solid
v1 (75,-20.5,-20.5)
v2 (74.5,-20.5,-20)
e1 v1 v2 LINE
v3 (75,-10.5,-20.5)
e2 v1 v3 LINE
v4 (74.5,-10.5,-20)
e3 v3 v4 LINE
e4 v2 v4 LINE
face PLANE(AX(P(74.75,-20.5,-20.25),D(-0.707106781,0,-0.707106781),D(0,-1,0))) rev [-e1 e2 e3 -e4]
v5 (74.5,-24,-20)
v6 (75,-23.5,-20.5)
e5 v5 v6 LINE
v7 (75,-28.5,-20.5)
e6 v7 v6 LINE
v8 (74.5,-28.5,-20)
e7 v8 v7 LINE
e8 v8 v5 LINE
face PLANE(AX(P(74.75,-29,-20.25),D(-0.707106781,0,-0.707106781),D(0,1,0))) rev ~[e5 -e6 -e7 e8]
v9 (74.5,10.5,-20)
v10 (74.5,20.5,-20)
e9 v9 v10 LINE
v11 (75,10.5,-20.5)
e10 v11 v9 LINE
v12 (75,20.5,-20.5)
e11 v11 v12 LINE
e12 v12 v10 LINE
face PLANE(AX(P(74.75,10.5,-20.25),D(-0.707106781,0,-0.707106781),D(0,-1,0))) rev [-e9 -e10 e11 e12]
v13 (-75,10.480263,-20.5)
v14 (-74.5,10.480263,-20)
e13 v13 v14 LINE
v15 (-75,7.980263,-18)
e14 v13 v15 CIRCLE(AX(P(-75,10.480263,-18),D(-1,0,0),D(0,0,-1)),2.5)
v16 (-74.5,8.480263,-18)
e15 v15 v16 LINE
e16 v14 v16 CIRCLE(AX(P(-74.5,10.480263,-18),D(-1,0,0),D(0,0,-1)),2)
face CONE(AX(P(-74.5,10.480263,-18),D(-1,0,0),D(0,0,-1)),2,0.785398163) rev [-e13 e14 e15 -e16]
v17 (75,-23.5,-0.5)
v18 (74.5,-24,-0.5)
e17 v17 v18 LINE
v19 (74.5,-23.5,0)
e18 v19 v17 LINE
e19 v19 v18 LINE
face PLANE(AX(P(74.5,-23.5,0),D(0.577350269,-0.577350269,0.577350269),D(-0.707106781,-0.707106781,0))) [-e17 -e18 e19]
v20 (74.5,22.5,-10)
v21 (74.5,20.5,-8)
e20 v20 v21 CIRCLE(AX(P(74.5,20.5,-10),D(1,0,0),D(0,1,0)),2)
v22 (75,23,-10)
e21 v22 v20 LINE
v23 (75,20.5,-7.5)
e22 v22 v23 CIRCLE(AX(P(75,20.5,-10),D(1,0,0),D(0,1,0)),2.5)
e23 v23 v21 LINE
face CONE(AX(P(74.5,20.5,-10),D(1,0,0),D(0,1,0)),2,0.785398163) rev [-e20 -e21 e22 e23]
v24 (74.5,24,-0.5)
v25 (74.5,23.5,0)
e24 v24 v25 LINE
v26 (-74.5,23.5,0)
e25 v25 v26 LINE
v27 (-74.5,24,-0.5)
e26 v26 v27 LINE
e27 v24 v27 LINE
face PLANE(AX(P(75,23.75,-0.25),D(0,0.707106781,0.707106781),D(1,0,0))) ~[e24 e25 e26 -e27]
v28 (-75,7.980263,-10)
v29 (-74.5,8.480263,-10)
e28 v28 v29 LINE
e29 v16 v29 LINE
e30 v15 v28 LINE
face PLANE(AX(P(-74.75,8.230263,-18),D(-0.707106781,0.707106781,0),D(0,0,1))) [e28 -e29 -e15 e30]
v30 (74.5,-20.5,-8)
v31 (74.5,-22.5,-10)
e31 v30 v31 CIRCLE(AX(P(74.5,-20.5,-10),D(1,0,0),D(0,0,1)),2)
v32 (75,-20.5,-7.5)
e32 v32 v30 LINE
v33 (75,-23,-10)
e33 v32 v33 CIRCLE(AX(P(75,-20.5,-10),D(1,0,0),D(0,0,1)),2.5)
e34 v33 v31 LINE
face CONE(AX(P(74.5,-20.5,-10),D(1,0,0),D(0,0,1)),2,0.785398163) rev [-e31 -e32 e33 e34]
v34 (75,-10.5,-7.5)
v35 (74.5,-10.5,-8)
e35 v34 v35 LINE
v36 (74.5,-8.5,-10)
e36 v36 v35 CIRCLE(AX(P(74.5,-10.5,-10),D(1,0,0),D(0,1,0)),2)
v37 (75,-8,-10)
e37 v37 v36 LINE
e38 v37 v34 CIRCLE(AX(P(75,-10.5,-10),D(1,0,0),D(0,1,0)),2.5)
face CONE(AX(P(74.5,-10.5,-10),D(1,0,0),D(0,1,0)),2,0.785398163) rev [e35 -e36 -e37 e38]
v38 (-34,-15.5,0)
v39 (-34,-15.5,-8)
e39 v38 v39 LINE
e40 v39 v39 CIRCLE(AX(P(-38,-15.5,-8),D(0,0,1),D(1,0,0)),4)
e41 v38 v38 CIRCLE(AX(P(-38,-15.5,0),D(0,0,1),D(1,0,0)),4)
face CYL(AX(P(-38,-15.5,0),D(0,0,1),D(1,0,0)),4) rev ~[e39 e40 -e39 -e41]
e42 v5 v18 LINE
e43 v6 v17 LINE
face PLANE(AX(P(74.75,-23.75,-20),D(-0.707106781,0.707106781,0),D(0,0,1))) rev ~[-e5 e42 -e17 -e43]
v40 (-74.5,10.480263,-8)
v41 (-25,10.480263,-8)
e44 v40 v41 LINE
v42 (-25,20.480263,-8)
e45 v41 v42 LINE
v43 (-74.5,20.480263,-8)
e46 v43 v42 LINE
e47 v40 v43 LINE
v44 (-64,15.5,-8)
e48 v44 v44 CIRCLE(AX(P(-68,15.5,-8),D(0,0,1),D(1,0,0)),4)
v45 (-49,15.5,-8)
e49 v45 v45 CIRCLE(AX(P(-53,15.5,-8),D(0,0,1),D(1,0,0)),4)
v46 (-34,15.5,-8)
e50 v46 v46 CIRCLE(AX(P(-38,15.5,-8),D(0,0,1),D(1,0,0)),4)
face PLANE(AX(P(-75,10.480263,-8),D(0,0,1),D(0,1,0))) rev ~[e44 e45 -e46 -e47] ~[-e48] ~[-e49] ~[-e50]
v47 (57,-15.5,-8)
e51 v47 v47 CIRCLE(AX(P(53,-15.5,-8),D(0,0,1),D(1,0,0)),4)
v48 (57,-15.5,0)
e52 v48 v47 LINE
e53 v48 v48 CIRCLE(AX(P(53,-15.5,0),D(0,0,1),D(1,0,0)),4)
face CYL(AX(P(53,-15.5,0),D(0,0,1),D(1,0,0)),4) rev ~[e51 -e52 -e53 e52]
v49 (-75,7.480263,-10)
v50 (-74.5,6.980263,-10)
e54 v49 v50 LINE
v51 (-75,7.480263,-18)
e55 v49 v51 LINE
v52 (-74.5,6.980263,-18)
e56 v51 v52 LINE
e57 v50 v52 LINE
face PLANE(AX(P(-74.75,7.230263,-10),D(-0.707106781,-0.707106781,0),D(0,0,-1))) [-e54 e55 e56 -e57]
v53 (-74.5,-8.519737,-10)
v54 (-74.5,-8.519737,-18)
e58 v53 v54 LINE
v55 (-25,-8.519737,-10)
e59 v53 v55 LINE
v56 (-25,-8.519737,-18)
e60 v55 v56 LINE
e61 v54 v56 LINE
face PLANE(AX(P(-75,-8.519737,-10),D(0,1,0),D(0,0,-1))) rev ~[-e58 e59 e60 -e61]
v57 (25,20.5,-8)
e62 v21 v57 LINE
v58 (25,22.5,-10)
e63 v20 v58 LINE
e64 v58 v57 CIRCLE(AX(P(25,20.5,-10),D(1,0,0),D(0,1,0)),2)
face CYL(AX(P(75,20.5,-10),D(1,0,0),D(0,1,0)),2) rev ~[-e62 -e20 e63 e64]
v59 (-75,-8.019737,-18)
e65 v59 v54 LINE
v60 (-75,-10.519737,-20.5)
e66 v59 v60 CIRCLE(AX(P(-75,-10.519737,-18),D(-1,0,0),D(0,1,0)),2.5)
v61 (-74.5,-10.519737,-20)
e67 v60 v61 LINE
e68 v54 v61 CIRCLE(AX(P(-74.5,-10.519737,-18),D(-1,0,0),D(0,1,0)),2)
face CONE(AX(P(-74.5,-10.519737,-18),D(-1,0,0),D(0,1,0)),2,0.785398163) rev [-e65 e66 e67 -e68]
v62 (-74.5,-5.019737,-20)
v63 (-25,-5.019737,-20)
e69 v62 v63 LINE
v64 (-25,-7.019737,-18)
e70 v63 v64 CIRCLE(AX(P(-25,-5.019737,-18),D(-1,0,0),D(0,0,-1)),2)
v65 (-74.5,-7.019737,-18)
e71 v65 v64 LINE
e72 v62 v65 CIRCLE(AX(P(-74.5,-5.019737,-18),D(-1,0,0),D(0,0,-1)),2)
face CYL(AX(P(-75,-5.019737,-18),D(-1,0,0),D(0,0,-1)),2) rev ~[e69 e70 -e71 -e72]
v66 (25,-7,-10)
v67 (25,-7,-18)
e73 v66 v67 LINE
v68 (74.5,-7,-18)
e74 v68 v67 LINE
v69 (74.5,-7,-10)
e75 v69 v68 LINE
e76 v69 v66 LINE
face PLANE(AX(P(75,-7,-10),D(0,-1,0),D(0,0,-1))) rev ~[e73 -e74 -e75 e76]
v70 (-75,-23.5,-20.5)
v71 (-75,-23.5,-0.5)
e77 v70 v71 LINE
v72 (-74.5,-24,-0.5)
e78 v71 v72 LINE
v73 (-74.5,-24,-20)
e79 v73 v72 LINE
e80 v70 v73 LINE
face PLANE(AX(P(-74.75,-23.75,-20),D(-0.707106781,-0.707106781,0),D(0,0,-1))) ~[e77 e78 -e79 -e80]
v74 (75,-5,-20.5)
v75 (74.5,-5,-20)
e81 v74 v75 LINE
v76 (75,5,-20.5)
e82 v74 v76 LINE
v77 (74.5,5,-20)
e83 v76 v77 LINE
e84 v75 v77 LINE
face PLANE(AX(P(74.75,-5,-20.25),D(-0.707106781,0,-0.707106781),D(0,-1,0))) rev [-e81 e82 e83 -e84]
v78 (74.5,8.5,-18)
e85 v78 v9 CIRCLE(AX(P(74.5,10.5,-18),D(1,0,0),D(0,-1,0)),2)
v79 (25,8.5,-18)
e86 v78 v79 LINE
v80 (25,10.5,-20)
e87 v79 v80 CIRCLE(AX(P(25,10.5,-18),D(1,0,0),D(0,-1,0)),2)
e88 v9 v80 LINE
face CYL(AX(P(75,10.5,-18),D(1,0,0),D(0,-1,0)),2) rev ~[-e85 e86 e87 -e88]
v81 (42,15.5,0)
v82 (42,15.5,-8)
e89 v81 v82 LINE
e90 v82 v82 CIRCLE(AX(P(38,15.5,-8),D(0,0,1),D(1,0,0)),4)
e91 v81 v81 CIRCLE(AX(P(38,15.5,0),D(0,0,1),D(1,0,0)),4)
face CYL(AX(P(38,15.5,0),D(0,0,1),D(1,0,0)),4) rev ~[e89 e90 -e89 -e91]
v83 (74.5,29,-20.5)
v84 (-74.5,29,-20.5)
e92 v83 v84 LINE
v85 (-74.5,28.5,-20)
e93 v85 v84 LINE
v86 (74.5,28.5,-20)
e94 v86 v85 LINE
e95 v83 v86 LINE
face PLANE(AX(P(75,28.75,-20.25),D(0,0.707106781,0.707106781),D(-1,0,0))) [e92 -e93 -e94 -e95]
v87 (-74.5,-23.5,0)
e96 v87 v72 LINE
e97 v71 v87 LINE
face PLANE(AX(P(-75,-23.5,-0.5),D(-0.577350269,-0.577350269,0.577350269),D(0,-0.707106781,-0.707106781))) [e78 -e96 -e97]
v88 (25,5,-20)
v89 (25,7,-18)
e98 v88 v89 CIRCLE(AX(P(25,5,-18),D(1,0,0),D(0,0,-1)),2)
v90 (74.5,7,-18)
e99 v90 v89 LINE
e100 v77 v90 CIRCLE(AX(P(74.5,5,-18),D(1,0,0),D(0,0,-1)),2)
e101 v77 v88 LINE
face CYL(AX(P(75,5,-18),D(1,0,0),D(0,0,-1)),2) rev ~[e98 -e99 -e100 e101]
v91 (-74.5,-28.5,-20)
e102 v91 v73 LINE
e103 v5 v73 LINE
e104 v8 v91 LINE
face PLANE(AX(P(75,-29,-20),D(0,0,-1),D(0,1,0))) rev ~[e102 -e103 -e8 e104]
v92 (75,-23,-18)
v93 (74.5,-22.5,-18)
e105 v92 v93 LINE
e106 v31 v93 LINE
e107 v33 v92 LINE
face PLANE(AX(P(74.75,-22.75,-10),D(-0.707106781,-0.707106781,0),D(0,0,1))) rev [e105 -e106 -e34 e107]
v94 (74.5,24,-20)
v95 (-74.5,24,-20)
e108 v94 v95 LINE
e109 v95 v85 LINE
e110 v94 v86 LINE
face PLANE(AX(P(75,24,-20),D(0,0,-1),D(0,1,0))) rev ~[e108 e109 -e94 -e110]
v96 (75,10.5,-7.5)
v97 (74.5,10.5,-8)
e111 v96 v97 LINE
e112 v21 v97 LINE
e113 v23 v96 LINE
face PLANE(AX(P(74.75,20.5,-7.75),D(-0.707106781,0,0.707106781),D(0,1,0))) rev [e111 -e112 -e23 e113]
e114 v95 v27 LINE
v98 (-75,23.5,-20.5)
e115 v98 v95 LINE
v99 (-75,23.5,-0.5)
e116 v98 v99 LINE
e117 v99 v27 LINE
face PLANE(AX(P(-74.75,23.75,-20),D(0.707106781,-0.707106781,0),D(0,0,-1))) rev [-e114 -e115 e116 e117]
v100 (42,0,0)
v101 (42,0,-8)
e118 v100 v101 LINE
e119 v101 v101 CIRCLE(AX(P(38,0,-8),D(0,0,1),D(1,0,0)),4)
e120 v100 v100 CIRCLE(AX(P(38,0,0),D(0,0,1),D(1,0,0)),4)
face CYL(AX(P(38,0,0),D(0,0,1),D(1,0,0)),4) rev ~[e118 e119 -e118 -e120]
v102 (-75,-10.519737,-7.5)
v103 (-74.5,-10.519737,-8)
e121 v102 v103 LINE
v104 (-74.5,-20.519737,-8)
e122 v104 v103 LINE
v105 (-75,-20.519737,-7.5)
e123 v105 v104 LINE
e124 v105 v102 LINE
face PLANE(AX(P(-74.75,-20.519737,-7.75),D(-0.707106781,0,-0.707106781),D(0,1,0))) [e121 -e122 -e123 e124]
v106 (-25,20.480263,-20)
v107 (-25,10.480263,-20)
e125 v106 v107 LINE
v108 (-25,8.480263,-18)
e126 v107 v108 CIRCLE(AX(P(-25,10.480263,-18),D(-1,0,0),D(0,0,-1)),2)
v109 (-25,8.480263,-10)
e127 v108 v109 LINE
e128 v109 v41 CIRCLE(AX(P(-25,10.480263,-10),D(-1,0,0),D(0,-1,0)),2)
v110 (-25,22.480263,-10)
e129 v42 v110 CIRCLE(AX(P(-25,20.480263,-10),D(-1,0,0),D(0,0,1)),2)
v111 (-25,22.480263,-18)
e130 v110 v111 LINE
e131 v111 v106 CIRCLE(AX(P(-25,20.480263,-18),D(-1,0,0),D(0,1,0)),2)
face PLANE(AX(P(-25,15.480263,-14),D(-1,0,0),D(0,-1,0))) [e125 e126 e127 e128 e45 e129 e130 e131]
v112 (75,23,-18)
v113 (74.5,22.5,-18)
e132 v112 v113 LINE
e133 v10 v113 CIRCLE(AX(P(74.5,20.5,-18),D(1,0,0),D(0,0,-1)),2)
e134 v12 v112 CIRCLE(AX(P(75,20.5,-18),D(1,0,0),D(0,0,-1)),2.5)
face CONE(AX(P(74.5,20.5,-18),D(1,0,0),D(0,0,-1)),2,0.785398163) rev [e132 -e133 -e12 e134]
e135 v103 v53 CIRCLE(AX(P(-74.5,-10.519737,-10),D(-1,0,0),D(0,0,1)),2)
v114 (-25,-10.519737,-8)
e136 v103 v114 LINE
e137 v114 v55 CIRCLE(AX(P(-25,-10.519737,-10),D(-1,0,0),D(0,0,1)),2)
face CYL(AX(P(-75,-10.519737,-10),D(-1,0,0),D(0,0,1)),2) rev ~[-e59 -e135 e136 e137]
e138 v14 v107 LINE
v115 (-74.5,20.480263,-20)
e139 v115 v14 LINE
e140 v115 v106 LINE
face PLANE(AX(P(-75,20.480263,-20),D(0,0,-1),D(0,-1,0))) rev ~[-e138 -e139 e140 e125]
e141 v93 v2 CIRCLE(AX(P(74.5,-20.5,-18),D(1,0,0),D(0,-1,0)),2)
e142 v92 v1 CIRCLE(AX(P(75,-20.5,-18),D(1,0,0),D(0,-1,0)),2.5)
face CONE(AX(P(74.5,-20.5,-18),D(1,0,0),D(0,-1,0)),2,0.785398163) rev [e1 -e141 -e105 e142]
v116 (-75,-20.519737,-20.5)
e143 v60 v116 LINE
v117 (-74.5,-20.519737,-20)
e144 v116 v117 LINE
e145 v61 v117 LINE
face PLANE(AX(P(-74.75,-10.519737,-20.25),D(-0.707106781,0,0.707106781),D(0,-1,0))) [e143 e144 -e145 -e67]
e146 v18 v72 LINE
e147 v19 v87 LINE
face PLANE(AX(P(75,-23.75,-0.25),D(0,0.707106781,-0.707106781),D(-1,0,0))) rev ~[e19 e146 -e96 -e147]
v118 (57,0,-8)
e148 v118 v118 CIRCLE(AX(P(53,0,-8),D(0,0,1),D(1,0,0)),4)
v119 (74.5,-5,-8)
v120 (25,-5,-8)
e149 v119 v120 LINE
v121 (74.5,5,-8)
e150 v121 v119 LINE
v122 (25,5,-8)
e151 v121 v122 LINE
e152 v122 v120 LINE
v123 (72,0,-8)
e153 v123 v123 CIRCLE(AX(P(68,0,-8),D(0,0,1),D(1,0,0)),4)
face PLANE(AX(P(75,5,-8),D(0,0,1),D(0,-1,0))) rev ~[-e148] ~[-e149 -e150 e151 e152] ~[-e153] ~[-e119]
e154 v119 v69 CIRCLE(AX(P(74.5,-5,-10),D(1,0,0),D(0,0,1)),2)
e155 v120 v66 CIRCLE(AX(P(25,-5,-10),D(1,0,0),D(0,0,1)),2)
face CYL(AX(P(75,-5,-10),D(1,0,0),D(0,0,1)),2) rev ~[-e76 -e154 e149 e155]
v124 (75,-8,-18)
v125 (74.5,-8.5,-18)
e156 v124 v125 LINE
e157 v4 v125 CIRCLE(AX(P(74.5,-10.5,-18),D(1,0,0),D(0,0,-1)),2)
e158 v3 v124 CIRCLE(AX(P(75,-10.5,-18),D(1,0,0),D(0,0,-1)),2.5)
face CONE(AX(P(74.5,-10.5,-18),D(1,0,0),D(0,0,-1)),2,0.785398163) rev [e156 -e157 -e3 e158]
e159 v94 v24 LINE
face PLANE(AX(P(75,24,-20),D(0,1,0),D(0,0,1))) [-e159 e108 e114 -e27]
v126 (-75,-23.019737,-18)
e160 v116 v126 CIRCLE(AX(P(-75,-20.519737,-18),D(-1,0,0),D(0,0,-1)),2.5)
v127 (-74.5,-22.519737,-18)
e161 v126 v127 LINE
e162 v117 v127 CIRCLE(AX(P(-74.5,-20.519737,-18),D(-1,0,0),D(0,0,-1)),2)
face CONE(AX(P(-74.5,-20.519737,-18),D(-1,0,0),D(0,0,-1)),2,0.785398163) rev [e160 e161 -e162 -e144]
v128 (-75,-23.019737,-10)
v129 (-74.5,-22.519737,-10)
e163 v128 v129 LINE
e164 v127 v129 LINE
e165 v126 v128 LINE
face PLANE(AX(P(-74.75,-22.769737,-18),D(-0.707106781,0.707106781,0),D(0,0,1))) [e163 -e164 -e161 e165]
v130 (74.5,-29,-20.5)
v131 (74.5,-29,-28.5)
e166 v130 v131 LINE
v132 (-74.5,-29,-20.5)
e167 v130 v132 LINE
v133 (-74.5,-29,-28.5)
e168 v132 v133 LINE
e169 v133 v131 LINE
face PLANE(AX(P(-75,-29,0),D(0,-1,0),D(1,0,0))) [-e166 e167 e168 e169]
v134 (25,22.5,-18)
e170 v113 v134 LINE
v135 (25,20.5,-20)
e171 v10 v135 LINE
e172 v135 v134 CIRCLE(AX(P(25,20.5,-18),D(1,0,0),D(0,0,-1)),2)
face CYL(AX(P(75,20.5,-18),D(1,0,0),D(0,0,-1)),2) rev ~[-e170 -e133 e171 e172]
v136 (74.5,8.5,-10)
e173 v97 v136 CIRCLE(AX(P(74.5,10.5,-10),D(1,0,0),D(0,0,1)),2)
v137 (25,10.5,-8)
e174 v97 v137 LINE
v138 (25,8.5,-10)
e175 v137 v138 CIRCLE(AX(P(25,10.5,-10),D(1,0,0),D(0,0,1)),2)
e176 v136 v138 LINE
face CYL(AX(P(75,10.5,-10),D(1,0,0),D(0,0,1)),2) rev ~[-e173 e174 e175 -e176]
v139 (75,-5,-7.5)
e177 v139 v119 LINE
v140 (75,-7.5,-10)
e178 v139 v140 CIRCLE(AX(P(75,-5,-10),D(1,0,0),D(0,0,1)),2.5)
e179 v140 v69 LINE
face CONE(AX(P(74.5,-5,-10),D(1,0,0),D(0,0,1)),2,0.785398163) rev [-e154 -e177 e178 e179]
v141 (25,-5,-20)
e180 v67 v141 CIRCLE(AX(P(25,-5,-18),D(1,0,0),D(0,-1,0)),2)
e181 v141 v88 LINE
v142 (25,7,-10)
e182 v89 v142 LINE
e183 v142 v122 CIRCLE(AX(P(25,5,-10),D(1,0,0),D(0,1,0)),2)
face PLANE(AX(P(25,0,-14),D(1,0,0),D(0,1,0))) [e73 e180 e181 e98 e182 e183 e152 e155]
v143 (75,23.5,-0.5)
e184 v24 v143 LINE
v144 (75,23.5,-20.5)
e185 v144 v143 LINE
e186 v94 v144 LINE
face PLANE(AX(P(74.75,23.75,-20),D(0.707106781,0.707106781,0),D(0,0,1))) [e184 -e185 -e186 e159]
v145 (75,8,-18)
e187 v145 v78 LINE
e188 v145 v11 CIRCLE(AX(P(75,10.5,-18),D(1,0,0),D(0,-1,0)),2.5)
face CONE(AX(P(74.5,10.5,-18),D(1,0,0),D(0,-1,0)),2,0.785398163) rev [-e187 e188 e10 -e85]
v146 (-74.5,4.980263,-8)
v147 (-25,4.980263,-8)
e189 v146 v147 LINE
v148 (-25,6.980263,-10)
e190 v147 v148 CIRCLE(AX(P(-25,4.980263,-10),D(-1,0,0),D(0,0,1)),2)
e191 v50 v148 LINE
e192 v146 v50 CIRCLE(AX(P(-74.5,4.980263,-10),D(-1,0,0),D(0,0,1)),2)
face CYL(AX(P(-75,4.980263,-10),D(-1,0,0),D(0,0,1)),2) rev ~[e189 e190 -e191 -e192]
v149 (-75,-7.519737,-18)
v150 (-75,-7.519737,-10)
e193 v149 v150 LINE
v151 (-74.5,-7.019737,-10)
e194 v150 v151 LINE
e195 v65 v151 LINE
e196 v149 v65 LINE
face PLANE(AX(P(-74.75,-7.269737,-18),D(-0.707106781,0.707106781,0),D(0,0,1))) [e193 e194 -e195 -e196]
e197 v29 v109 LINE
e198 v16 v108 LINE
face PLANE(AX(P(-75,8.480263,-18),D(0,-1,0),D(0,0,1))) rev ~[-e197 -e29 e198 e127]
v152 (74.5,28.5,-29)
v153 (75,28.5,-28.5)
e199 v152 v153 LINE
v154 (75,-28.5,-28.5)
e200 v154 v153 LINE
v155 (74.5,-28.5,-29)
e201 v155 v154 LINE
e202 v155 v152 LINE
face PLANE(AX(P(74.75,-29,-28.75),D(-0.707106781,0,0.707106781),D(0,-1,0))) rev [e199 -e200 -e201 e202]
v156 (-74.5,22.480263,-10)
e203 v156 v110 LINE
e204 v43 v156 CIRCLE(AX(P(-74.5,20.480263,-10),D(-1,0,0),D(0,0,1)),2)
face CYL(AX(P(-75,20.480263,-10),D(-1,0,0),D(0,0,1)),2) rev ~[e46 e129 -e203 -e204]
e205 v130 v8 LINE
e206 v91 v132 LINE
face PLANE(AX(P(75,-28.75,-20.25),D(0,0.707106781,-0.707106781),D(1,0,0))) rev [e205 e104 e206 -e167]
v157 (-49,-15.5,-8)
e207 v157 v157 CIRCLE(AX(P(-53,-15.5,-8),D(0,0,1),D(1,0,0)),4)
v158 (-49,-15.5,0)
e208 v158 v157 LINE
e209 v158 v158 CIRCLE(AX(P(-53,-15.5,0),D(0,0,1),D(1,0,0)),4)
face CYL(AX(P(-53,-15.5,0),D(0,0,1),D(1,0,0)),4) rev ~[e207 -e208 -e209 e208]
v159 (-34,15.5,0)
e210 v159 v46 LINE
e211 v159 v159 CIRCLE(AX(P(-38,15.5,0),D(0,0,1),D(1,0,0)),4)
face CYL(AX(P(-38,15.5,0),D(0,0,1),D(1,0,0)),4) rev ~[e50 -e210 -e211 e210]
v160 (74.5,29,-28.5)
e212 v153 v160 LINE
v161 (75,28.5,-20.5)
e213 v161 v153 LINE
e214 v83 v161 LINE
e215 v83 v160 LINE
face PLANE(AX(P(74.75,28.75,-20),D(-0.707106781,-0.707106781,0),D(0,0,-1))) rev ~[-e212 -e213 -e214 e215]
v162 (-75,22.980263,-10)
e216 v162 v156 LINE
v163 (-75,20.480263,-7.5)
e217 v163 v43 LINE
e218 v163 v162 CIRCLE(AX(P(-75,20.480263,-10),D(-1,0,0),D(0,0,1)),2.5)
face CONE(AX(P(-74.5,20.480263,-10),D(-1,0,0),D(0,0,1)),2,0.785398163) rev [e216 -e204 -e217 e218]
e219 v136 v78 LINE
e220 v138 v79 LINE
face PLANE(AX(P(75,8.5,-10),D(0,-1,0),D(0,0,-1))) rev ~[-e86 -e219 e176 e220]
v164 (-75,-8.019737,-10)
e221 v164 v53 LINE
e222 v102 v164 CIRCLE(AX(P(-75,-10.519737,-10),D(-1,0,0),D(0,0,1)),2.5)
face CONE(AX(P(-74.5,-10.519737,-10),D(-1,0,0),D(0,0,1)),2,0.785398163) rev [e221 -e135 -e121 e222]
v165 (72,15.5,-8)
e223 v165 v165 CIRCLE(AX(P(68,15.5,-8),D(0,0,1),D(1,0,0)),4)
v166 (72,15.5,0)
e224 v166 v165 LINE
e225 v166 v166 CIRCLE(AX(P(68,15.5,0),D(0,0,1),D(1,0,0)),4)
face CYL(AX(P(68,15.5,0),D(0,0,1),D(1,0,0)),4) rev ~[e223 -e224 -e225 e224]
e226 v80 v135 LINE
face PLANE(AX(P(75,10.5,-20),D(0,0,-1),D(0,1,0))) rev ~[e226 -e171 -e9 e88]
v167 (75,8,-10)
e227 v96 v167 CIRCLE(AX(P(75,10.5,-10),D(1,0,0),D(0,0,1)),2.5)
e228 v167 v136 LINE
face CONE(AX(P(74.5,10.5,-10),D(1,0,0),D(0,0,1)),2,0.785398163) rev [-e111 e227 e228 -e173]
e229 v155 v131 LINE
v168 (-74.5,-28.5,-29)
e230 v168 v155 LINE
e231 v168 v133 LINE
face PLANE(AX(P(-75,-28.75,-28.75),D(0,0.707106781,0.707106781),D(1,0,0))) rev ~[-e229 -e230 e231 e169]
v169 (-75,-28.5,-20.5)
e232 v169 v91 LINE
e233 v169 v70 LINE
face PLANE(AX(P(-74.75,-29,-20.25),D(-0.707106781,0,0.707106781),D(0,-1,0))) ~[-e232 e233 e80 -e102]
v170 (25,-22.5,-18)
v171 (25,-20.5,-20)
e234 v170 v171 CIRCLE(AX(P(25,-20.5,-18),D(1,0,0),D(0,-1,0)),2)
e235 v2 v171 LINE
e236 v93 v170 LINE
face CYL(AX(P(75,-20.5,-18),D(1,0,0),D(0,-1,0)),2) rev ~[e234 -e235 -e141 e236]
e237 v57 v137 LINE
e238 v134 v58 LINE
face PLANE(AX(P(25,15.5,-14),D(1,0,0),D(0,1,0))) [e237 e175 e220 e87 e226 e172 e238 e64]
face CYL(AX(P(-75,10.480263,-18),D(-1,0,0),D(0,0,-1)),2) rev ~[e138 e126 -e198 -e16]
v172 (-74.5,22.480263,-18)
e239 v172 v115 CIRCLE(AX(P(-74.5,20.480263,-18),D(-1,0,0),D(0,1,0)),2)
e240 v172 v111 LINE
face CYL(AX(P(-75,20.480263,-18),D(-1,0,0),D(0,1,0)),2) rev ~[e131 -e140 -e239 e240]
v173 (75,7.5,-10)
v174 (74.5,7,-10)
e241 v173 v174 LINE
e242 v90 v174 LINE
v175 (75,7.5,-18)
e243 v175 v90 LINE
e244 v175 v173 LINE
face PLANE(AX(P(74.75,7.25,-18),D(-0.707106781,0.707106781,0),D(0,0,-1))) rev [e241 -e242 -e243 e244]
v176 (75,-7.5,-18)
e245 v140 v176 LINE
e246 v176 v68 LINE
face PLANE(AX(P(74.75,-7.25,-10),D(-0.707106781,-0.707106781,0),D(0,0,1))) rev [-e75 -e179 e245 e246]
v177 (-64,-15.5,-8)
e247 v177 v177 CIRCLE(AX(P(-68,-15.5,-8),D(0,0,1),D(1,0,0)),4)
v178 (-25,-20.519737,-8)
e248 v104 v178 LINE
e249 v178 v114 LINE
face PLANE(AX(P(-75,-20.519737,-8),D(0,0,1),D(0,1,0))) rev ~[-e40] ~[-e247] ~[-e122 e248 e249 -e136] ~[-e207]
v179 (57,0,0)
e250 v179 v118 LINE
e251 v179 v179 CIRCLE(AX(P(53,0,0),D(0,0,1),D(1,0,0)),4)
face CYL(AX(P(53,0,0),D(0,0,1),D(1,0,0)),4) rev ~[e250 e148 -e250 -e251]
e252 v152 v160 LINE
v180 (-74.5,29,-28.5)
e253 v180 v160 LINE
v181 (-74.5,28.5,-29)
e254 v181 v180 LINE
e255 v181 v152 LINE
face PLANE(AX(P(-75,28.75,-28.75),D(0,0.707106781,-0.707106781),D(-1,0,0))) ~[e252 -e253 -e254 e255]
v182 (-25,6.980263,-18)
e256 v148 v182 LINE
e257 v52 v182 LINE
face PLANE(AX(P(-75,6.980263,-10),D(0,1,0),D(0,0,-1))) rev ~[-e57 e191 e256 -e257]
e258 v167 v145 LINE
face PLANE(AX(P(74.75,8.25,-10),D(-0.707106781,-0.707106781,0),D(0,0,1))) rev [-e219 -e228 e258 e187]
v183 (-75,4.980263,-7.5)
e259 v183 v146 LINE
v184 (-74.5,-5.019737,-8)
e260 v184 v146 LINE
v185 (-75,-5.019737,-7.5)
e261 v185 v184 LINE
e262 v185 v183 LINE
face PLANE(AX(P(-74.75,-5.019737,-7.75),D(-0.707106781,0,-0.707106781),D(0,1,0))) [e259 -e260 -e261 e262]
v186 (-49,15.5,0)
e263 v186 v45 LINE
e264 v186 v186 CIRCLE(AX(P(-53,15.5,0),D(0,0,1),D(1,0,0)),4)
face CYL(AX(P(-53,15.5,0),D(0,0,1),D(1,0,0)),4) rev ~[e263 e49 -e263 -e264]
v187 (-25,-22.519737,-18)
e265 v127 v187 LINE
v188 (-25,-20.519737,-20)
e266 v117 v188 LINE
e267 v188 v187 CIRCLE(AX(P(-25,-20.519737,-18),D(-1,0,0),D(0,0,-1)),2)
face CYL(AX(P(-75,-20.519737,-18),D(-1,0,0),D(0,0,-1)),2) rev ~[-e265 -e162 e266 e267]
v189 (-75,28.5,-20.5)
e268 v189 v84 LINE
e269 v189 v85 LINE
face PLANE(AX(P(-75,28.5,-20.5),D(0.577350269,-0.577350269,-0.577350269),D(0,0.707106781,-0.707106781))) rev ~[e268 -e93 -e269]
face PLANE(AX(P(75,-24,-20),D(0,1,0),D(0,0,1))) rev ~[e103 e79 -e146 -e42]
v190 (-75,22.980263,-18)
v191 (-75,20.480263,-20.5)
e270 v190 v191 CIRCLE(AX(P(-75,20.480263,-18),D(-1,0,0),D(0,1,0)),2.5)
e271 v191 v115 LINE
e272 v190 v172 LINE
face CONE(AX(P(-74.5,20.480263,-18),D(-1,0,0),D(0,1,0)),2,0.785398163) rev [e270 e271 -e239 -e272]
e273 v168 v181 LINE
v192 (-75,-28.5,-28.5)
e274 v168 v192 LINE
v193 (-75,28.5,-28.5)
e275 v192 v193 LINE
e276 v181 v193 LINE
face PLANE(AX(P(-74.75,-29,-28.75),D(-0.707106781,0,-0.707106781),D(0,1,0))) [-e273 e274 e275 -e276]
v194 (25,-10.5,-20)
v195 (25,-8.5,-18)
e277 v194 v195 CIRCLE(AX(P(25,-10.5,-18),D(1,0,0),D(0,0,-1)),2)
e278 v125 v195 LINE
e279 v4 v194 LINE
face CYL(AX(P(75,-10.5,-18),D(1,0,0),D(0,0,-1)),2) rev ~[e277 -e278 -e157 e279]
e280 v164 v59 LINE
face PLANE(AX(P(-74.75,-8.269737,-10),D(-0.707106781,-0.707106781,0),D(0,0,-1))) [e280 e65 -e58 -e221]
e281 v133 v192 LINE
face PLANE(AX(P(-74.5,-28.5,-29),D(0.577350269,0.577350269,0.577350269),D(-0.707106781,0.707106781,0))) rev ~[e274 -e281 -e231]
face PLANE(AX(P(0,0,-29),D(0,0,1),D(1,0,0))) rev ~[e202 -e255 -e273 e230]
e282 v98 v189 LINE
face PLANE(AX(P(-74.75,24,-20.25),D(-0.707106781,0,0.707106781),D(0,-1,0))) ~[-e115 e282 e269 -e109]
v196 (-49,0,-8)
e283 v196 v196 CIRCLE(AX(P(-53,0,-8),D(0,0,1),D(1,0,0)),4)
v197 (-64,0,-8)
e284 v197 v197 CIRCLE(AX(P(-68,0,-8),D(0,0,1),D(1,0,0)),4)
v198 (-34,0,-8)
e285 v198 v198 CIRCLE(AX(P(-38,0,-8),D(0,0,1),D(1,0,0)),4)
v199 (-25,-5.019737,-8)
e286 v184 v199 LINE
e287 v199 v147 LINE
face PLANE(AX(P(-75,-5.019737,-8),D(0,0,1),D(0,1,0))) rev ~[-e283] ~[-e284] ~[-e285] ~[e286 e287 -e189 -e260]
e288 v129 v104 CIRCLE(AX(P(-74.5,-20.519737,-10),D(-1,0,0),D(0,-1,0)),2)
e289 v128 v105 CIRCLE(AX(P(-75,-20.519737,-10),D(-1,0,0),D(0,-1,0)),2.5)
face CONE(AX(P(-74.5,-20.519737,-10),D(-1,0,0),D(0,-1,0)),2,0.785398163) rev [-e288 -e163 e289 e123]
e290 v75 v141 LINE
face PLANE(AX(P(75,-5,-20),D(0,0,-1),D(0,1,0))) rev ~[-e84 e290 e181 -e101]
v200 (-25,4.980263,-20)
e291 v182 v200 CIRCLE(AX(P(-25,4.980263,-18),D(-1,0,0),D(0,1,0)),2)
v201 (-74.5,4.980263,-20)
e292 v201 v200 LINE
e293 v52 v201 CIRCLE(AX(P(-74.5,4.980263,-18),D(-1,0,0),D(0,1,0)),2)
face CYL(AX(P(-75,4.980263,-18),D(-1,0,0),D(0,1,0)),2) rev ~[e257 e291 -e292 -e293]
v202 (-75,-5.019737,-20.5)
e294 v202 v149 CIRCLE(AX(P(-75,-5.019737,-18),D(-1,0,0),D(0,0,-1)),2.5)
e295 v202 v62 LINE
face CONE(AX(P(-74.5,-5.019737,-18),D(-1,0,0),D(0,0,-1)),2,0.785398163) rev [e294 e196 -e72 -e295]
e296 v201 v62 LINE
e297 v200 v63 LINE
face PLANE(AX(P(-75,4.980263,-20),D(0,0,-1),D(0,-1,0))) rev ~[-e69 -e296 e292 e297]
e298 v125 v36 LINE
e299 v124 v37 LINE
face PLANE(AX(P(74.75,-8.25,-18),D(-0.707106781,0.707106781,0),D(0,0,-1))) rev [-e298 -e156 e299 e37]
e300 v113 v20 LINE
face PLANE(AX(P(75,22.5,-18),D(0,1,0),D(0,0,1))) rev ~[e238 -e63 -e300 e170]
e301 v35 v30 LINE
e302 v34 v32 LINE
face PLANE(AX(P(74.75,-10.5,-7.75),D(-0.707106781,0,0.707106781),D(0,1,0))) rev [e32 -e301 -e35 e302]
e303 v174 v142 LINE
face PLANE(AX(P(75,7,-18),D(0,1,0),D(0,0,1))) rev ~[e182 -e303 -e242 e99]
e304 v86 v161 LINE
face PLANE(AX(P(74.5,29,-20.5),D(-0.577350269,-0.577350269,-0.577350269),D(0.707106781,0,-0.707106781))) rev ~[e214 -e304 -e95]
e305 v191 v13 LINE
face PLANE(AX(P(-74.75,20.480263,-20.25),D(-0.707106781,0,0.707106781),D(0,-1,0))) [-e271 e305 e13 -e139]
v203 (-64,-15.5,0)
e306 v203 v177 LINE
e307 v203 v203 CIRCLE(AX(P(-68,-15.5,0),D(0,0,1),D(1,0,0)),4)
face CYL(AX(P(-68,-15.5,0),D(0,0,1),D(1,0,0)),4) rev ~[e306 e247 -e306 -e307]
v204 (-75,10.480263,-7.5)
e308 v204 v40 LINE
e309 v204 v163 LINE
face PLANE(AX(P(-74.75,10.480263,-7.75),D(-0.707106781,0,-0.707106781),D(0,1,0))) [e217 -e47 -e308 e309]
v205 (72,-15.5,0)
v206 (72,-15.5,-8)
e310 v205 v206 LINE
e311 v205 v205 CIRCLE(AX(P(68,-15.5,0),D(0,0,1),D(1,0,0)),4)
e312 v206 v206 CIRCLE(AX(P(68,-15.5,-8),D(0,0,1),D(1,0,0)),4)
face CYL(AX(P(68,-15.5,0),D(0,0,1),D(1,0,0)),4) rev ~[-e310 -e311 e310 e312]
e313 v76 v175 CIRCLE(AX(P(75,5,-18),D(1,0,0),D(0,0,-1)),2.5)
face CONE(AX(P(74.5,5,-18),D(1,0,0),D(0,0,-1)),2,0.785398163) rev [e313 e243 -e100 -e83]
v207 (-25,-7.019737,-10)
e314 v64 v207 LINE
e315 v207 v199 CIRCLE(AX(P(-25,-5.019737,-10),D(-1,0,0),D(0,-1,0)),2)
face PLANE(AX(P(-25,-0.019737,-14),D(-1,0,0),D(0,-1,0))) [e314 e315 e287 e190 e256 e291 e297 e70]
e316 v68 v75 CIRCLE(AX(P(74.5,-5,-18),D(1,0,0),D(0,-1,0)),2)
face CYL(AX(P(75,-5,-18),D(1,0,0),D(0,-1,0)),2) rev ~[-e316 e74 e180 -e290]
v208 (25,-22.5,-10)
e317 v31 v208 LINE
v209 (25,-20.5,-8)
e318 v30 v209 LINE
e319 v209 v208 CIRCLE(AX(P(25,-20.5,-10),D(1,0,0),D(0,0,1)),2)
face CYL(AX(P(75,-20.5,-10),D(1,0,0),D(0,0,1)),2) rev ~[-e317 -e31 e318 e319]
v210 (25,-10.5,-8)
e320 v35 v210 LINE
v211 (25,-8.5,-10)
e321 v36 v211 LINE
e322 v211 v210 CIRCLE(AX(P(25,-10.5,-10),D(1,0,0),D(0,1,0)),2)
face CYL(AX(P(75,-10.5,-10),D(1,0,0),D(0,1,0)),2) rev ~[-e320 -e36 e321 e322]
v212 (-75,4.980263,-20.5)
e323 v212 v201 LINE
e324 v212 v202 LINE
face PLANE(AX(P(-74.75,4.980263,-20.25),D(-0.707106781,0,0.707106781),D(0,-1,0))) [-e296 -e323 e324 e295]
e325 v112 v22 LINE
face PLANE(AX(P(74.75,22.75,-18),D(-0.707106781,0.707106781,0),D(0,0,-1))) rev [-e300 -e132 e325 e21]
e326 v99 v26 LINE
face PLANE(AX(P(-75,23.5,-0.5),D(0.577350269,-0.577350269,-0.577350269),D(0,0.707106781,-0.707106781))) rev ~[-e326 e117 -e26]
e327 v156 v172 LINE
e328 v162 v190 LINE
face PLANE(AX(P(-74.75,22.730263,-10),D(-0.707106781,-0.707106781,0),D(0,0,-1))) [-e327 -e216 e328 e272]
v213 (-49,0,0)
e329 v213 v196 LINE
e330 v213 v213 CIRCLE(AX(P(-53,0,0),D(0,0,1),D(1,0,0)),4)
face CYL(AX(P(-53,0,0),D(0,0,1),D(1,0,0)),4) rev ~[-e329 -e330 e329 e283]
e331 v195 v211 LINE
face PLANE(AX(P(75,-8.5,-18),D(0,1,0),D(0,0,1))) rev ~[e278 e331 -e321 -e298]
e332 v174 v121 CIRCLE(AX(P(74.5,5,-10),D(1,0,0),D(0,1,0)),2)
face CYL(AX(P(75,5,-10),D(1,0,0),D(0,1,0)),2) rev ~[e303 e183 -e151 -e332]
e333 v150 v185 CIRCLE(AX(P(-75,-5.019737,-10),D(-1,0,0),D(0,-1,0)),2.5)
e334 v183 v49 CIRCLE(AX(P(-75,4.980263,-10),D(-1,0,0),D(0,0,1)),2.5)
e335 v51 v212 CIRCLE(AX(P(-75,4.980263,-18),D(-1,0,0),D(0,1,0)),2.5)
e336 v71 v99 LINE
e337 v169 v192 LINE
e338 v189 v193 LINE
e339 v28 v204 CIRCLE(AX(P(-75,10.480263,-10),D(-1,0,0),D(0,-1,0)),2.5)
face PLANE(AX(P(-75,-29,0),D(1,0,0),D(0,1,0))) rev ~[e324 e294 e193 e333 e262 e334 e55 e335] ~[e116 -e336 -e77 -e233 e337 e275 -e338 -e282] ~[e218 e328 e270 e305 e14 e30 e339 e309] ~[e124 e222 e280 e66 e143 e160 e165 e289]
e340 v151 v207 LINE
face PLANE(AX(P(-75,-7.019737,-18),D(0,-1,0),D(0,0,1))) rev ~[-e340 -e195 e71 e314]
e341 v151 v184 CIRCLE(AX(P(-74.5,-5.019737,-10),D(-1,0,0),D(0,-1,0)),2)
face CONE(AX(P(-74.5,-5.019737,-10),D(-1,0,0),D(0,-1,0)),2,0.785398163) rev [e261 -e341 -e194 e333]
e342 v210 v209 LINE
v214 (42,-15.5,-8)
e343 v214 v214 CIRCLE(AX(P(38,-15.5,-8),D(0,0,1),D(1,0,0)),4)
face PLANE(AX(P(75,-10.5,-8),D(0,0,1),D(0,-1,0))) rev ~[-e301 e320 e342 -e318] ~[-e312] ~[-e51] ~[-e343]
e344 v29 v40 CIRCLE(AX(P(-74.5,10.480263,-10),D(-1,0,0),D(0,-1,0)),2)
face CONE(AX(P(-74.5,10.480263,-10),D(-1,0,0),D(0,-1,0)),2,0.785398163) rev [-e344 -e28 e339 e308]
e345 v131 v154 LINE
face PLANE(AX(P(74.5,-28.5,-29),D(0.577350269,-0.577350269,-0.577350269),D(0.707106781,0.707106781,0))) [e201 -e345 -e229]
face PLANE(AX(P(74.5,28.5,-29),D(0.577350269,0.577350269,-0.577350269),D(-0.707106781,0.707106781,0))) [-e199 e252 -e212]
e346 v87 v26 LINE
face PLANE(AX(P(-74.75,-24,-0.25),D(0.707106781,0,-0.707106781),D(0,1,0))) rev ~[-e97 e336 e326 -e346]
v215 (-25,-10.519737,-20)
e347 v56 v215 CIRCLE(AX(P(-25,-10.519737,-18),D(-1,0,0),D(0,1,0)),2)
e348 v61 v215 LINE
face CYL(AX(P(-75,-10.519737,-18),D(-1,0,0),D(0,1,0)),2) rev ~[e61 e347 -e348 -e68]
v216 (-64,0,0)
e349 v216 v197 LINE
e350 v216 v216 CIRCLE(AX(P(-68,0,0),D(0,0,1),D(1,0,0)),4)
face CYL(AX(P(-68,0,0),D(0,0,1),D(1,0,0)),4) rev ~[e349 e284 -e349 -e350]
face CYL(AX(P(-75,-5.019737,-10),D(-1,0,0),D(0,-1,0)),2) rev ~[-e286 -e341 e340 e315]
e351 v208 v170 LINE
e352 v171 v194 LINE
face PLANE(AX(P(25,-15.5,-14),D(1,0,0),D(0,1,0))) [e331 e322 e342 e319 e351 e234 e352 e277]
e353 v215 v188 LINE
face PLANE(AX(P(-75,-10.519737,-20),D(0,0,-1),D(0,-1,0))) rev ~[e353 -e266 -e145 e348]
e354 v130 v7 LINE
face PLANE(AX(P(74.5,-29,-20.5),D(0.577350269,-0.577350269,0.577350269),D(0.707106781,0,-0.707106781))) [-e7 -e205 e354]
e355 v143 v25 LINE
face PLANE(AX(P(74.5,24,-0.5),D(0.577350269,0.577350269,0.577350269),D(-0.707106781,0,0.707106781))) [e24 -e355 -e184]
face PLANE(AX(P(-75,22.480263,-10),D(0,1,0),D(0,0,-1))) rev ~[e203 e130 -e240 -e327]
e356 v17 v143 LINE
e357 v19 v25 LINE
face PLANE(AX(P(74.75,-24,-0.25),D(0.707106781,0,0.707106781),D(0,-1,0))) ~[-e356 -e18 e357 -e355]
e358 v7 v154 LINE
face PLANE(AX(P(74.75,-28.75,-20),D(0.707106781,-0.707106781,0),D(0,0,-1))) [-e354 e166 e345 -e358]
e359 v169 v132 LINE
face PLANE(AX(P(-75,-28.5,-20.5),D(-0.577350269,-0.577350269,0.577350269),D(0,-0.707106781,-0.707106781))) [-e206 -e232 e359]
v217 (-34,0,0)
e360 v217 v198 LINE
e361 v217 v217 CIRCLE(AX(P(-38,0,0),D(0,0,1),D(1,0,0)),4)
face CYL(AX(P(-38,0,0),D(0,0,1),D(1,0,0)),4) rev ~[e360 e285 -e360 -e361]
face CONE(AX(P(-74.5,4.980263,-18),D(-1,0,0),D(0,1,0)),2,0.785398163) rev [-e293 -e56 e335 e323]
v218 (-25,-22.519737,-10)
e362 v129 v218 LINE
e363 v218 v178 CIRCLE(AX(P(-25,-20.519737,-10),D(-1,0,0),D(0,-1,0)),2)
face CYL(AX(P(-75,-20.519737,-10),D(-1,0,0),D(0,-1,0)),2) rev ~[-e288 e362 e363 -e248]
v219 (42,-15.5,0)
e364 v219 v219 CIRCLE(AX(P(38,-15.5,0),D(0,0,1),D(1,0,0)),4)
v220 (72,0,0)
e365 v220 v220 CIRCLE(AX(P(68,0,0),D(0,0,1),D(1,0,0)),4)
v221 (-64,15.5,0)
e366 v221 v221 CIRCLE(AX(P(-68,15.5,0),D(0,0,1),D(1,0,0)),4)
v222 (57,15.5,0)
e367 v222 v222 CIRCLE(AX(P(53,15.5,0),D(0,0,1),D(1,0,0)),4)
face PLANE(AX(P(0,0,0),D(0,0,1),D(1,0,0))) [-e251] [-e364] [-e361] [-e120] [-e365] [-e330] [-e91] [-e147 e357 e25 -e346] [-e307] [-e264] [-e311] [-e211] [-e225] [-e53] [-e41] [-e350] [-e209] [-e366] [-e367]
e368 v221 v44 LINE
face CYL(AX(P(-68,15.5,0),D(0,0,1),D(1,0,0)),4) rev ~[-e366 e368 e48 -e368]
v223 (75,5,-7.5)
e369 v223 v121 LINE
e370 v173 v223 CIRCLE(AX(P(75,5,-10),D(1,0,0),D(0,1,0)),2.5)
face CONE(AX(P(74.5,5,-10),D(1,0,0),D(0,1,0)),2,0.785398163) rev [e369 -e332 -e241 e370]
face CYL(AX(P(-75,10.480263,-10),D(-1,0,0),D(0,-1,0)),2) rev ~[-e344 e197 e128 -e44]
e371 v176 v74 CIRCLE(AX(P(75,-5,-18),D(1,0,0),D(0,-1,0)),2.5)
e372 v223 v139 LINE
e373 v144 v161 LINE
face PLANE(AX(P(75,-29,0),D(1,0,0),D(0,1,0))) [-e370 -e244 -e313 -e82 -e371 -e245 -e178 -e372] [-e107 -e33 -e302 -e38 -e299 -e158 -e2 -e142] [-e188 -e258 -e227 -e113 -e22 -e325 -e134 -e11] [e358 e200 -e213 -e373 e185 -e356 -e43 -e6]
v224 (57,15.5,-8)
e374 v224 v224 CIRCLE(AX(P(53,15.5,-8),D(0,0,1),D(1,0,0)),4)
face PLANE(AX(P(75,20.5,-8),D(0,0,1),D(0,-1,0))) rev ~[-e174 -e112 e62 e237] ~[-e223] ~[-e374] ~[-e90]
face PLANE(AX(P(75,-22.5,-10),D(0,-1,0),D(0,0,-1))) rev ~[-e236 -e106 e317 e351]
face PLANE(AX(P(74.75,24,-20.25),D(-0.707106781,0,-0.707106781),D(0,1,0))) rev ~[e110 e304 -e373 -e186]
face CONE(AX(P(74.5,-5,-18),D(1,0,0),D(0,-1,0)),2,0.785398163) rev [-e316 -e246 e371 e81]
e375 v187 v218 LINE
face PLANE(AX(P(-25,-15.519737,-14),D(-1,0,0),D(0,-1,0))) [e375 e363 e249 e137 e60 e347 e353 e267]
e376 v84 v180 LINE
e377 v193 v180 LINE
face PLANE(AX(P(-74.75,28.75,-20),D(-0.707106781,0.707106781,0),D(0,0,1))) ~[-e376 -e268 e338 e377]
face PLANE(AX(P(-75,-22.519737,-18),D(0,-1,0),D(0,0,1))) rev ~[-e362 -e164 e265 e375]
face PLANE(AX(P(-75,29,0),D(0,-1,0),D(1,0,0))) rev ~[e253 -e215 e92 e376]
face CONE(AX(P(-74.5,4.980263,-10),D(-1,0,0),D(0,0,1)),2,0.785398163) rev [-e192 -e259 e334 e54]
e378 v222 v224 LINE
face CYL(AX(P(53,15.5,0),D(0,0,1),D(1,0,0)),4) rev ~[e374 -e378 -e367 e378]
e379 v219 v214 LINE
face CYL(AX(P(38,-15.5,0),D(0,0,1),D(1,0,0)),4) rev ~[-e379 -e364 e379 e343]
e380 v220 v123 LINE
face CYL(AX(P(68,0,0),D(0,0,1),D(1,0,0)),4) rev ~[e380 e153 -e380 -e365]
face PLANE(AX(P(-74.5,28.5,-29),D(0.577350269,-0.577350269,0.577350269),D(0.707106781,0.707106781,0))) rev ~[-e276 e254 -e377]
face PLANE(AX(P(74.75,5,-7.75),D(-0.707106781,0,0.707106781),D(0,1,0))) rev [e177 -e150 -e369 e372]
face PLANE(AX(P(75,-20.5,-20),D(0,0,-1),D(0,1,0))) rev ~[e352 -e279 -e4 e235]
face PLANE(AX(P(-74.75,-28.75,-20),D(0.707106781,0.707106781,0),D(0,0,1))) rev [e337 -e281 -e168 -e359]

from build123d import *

# Parameters (mm, degrees)
F0_W     = 150
F0_H     = 58
F1_DEPTH = 29
F3_W     = 5
F3_H     = 20
F4_DEPTH = 150.001
F2_R     = 4
F5_DEPTH = 20
F8_DEPTH = 50
F9_DEPTH = 50
F10_SIZE = 0.5


with BuildPart() as f1:
    # F0 (on Top) → F1 (new body)
    with BuildSketch(Plane.XY):
        Rectangle(F0_W, F0_H)
    extrude(amount=-F1_DEPTH)

    # F3 (on face) → F4 (cut, through all)
    with BuildSketch(Plane.YZ.offset(75)):
        with Locations((-26.5, -10)):
            Rectangle(F3_W, F3_H)
        with Locations((26.5, -10)):
            Rectangle(F3_W, F3_H)
    extrude(amount=-F4_DEPTH, mode=Mode.SUBTRACT)

    # F2 (on Top) → F5 (cut)
    with BuildSketch(Plane.XY):
        with Locations((68, 15.5)):
            Circle(F2_R)
        with Locations((38, -15.5)):
            Circle(F2_R)
        with Locations((38, 15.5)):
            Circle(F2_R)
        with Locations((38, 0)):
            Circle(F2_R)
        with Locations((68, 0)):
            Circle(F2_R)
        with Locations((53, -15.5)):
            Circle(F2_R)
        with Locations((68, -15.5)):
            Circle(F2_R)
        with Locations((53, 0)):
            Circle(F2_R)
        with Locations((53, 15.5)):
            Circle(F2_R)
        with Locations((-68, 15.5)):
            Circle(F2_R)
        with Locations((-53, 0)):
            Circle(F2_R)
        with Locations((-38, 0)):
            Circle(F2_R)
        with Locations((-68, -15.5)):
            Circle(F2_R)
        with Locations((-38, -15.5)):
            Circle(F2_R)
        with Locations((-68, 0)):
            Circle(F2_R)
        with Locations((-38, 15.5)):
            Circle(F2_R)
        with Locations((-53, 15.5)):
            Circle(F2_R)
        with Locations((-53, -15.5)):
            Circle(F2_R)
    extrude(amount=-F5_DEPTH, mode=Mode.SUBTRACT)

    # F6 (on face) → F8 (cut)
    with BuildSketch(Plane.YZ.offset(75)):
        with BuildLine():
            Line((-10.5, -8), (-20.5, -8))
            ThreePointArc((-20.5, -8), (-21.9142135624, -8.5857864376), (-22.5, -10))
            Line((-22.5, -10), (-22.5, -18))
            ThreePointArc((-22.5, -18), (-21.9142135624, -19.4142135624), (-20.5, -20))
            Line((-20.5, -20), (-10.5, -20))
            ThreePointArc((-10.5, -20), (-9.0857864376, -19.4142135624), (-8.5, -18))
            Line((-8.5, -18), (-8.5, -10))
            ThreePointArc((-8.5, -10), (-9.0857864376, -8.5857864376), (-10.5, -8))
        make_face()
        with BuildLine():
            Line((7, -18), (7, -10))
            ThreePointArc((7, -10), (6.4142135624, -8.5857864376), (5, -8))
            Line((5, -8), (-5, -8))
            ThreePointArc((-5, -8), (-6.4142135624, -8.5857864376), (-7, -10))
            Line((-7, -10), (-7, -18))
            ThreePointArc((-7, -18), (-6.4142135624, -19.4142135624), (-5, -20))
            Line((-5, -20), (5, -20))
            ThreePointArc((5, -20), (6.4142135624, -19.4142135624), (7, -18))
        make_face()
        with BuildLine():
            Line((22.5, -18), (22.5, -10))
            ThreePointArc((22.5, -10), (21.9142135624, -8.5857864376), (20.5, -8))
            Line((20.5, -8), (10.5, -8))
            ThreePointArc((10.5, -8), (9.0857864376, -8.5857864376), (8.5, -10))
            Line((8.5, -10), (8.5, -18))
            ThreePointArc((8.5, -18), (9.0857864376, -19.4142135624), (10.5, -20))
            Line((10.5, -20), (20.5, -20))
            ThreePointArc((20.5, -20), (21.9142135624, -19.4142135624), (22.5, -18))
        make_face()
    extrude(amount=-F8_DEPTH, mode=Mode.SUBTRACT)

    # F7 (on face) → F9 (cut)
    with BuildSketch(Plane(origin=(-75, 0, 0), x_dir=(0, -1, 0), z_dir=(-1, 0, 0))):
        with BuildLine():
            Line((-10.4802631579, -8), (-20.4802631579, -8))
            ThreePointArc((-20.4802631579, -8), (-21.8944767203, -8.5857864376), (-22.4802631579, -10))
            Line((-22.4802631579, -10), (-22.4802631579, -18))
            ThreePointArc((-22.4802631579, -18), (-21.8944767203, -19.4142135624), (-20.4802631579, -20))
            Line((-20.4802631579, -20), (-10.4802631579, -20))
            ThreePointArc((-10.4802631579, -20), (-9.0660495955, -19.4142135624), (-8.4802631579, -18))
            Line((-8.4802631579, -18), (-8.4802631579, -10))
            ThreePointArc((-8.4802631579, -10), (-9.0660495955, -8.5857864376), (-10.4802631579, -8))
        make_face()
        with BuildLine():
            Line((7.0197368421, -18), (7.0197368421, -10))
            ThreePointArc((7.0197368421, -10), (6.4339504045, -8.5857864376), (5.0197368421, -8))
            Line((5.0197368421, -8), (-4.9802631579, -8))
            ThreePointArc((-4.9802631579, -8), (-6.3944767203, -8.5857864376), (-6.9802631579, -10))
            Line((-6.9802631579, -10), (-6.9802631579, -18))
            ThreePointArc((-6.9802631579, -18), (-6.3944767203, -19.4142135624), (-4.9802631579, -20))
            Line((-4.9802631579, -20), (5.0197368421, -20))
            ThreePointArc((5.0197368421, -20), (6.4339504045, -19.4142135624), (7.0197368421, -18))
        make_face()
        with BuildLine():
            Line((22.5197368421, -18), (22.5197368421, -10))
            ThreePointArc((22.5197368421, -10), (21.9339504045, -8.5857864376), (20.5197368421, -8))
            Line((20.5197368421, -8), (10.5197368421, -8))
            ThreePointArc((10.5197368421, -8), (9.1055232797, -8.5857864376), (8.5197368421, -10))
            Line((8.5197368421, -10), (8.5197368421, -18))
            ThreePointArc((8.5197368421, -18), (9.1055232797, -19.4142135624), (10.5197368421, -20))
            Line((10.5197368421, -20), (20.5197368421, -20))
            ThreePointArc((20.5197368421, -20), (21.9339504045, -19.4142135624), (22.5197368421, -18))
        make_face()
    extrude(amount=-F9_DEPTH, mode=Mode.SUBTRACT)

    # F10
    f10_edges = [f1.edges().sort_by_distance(p)[0] for p in [
        (75, -15.5, -8),
        (75, 0, -8),
        (75, 15.5, -8),
        (-75, 15.480263, -8),
        (-75, -0.019737, -8),
        (-75, -15.519737, -8),
        (75, -24, -10),
        (75, 0, 0),
        (75, 24, -10),
        (0, -24, 0),
        (0, 24, 0),
        (-75, 0, 0),
        (-75, 24, -10),
        (-75, -24, -10),
        (75, -26.5, -20),
        (0, -29, -20),
        (-75, -26.5, -20),
        (75, 26.5, -20),
        (0, 29, -20),
        (-75, 26.5, -20),
        (75, 29, -24.5),
        (75, -29, -24.5),
        (-75, 29, -24.5),
        (-75, -29, -24.5),
        (0, -29, -29),
        (-75, 0, -29),
        (75, 0, -29),
        (0, 29, -29),
    ]]
    chamfer(f10_edges, length=F10_SIZE)


solid = f1.part
